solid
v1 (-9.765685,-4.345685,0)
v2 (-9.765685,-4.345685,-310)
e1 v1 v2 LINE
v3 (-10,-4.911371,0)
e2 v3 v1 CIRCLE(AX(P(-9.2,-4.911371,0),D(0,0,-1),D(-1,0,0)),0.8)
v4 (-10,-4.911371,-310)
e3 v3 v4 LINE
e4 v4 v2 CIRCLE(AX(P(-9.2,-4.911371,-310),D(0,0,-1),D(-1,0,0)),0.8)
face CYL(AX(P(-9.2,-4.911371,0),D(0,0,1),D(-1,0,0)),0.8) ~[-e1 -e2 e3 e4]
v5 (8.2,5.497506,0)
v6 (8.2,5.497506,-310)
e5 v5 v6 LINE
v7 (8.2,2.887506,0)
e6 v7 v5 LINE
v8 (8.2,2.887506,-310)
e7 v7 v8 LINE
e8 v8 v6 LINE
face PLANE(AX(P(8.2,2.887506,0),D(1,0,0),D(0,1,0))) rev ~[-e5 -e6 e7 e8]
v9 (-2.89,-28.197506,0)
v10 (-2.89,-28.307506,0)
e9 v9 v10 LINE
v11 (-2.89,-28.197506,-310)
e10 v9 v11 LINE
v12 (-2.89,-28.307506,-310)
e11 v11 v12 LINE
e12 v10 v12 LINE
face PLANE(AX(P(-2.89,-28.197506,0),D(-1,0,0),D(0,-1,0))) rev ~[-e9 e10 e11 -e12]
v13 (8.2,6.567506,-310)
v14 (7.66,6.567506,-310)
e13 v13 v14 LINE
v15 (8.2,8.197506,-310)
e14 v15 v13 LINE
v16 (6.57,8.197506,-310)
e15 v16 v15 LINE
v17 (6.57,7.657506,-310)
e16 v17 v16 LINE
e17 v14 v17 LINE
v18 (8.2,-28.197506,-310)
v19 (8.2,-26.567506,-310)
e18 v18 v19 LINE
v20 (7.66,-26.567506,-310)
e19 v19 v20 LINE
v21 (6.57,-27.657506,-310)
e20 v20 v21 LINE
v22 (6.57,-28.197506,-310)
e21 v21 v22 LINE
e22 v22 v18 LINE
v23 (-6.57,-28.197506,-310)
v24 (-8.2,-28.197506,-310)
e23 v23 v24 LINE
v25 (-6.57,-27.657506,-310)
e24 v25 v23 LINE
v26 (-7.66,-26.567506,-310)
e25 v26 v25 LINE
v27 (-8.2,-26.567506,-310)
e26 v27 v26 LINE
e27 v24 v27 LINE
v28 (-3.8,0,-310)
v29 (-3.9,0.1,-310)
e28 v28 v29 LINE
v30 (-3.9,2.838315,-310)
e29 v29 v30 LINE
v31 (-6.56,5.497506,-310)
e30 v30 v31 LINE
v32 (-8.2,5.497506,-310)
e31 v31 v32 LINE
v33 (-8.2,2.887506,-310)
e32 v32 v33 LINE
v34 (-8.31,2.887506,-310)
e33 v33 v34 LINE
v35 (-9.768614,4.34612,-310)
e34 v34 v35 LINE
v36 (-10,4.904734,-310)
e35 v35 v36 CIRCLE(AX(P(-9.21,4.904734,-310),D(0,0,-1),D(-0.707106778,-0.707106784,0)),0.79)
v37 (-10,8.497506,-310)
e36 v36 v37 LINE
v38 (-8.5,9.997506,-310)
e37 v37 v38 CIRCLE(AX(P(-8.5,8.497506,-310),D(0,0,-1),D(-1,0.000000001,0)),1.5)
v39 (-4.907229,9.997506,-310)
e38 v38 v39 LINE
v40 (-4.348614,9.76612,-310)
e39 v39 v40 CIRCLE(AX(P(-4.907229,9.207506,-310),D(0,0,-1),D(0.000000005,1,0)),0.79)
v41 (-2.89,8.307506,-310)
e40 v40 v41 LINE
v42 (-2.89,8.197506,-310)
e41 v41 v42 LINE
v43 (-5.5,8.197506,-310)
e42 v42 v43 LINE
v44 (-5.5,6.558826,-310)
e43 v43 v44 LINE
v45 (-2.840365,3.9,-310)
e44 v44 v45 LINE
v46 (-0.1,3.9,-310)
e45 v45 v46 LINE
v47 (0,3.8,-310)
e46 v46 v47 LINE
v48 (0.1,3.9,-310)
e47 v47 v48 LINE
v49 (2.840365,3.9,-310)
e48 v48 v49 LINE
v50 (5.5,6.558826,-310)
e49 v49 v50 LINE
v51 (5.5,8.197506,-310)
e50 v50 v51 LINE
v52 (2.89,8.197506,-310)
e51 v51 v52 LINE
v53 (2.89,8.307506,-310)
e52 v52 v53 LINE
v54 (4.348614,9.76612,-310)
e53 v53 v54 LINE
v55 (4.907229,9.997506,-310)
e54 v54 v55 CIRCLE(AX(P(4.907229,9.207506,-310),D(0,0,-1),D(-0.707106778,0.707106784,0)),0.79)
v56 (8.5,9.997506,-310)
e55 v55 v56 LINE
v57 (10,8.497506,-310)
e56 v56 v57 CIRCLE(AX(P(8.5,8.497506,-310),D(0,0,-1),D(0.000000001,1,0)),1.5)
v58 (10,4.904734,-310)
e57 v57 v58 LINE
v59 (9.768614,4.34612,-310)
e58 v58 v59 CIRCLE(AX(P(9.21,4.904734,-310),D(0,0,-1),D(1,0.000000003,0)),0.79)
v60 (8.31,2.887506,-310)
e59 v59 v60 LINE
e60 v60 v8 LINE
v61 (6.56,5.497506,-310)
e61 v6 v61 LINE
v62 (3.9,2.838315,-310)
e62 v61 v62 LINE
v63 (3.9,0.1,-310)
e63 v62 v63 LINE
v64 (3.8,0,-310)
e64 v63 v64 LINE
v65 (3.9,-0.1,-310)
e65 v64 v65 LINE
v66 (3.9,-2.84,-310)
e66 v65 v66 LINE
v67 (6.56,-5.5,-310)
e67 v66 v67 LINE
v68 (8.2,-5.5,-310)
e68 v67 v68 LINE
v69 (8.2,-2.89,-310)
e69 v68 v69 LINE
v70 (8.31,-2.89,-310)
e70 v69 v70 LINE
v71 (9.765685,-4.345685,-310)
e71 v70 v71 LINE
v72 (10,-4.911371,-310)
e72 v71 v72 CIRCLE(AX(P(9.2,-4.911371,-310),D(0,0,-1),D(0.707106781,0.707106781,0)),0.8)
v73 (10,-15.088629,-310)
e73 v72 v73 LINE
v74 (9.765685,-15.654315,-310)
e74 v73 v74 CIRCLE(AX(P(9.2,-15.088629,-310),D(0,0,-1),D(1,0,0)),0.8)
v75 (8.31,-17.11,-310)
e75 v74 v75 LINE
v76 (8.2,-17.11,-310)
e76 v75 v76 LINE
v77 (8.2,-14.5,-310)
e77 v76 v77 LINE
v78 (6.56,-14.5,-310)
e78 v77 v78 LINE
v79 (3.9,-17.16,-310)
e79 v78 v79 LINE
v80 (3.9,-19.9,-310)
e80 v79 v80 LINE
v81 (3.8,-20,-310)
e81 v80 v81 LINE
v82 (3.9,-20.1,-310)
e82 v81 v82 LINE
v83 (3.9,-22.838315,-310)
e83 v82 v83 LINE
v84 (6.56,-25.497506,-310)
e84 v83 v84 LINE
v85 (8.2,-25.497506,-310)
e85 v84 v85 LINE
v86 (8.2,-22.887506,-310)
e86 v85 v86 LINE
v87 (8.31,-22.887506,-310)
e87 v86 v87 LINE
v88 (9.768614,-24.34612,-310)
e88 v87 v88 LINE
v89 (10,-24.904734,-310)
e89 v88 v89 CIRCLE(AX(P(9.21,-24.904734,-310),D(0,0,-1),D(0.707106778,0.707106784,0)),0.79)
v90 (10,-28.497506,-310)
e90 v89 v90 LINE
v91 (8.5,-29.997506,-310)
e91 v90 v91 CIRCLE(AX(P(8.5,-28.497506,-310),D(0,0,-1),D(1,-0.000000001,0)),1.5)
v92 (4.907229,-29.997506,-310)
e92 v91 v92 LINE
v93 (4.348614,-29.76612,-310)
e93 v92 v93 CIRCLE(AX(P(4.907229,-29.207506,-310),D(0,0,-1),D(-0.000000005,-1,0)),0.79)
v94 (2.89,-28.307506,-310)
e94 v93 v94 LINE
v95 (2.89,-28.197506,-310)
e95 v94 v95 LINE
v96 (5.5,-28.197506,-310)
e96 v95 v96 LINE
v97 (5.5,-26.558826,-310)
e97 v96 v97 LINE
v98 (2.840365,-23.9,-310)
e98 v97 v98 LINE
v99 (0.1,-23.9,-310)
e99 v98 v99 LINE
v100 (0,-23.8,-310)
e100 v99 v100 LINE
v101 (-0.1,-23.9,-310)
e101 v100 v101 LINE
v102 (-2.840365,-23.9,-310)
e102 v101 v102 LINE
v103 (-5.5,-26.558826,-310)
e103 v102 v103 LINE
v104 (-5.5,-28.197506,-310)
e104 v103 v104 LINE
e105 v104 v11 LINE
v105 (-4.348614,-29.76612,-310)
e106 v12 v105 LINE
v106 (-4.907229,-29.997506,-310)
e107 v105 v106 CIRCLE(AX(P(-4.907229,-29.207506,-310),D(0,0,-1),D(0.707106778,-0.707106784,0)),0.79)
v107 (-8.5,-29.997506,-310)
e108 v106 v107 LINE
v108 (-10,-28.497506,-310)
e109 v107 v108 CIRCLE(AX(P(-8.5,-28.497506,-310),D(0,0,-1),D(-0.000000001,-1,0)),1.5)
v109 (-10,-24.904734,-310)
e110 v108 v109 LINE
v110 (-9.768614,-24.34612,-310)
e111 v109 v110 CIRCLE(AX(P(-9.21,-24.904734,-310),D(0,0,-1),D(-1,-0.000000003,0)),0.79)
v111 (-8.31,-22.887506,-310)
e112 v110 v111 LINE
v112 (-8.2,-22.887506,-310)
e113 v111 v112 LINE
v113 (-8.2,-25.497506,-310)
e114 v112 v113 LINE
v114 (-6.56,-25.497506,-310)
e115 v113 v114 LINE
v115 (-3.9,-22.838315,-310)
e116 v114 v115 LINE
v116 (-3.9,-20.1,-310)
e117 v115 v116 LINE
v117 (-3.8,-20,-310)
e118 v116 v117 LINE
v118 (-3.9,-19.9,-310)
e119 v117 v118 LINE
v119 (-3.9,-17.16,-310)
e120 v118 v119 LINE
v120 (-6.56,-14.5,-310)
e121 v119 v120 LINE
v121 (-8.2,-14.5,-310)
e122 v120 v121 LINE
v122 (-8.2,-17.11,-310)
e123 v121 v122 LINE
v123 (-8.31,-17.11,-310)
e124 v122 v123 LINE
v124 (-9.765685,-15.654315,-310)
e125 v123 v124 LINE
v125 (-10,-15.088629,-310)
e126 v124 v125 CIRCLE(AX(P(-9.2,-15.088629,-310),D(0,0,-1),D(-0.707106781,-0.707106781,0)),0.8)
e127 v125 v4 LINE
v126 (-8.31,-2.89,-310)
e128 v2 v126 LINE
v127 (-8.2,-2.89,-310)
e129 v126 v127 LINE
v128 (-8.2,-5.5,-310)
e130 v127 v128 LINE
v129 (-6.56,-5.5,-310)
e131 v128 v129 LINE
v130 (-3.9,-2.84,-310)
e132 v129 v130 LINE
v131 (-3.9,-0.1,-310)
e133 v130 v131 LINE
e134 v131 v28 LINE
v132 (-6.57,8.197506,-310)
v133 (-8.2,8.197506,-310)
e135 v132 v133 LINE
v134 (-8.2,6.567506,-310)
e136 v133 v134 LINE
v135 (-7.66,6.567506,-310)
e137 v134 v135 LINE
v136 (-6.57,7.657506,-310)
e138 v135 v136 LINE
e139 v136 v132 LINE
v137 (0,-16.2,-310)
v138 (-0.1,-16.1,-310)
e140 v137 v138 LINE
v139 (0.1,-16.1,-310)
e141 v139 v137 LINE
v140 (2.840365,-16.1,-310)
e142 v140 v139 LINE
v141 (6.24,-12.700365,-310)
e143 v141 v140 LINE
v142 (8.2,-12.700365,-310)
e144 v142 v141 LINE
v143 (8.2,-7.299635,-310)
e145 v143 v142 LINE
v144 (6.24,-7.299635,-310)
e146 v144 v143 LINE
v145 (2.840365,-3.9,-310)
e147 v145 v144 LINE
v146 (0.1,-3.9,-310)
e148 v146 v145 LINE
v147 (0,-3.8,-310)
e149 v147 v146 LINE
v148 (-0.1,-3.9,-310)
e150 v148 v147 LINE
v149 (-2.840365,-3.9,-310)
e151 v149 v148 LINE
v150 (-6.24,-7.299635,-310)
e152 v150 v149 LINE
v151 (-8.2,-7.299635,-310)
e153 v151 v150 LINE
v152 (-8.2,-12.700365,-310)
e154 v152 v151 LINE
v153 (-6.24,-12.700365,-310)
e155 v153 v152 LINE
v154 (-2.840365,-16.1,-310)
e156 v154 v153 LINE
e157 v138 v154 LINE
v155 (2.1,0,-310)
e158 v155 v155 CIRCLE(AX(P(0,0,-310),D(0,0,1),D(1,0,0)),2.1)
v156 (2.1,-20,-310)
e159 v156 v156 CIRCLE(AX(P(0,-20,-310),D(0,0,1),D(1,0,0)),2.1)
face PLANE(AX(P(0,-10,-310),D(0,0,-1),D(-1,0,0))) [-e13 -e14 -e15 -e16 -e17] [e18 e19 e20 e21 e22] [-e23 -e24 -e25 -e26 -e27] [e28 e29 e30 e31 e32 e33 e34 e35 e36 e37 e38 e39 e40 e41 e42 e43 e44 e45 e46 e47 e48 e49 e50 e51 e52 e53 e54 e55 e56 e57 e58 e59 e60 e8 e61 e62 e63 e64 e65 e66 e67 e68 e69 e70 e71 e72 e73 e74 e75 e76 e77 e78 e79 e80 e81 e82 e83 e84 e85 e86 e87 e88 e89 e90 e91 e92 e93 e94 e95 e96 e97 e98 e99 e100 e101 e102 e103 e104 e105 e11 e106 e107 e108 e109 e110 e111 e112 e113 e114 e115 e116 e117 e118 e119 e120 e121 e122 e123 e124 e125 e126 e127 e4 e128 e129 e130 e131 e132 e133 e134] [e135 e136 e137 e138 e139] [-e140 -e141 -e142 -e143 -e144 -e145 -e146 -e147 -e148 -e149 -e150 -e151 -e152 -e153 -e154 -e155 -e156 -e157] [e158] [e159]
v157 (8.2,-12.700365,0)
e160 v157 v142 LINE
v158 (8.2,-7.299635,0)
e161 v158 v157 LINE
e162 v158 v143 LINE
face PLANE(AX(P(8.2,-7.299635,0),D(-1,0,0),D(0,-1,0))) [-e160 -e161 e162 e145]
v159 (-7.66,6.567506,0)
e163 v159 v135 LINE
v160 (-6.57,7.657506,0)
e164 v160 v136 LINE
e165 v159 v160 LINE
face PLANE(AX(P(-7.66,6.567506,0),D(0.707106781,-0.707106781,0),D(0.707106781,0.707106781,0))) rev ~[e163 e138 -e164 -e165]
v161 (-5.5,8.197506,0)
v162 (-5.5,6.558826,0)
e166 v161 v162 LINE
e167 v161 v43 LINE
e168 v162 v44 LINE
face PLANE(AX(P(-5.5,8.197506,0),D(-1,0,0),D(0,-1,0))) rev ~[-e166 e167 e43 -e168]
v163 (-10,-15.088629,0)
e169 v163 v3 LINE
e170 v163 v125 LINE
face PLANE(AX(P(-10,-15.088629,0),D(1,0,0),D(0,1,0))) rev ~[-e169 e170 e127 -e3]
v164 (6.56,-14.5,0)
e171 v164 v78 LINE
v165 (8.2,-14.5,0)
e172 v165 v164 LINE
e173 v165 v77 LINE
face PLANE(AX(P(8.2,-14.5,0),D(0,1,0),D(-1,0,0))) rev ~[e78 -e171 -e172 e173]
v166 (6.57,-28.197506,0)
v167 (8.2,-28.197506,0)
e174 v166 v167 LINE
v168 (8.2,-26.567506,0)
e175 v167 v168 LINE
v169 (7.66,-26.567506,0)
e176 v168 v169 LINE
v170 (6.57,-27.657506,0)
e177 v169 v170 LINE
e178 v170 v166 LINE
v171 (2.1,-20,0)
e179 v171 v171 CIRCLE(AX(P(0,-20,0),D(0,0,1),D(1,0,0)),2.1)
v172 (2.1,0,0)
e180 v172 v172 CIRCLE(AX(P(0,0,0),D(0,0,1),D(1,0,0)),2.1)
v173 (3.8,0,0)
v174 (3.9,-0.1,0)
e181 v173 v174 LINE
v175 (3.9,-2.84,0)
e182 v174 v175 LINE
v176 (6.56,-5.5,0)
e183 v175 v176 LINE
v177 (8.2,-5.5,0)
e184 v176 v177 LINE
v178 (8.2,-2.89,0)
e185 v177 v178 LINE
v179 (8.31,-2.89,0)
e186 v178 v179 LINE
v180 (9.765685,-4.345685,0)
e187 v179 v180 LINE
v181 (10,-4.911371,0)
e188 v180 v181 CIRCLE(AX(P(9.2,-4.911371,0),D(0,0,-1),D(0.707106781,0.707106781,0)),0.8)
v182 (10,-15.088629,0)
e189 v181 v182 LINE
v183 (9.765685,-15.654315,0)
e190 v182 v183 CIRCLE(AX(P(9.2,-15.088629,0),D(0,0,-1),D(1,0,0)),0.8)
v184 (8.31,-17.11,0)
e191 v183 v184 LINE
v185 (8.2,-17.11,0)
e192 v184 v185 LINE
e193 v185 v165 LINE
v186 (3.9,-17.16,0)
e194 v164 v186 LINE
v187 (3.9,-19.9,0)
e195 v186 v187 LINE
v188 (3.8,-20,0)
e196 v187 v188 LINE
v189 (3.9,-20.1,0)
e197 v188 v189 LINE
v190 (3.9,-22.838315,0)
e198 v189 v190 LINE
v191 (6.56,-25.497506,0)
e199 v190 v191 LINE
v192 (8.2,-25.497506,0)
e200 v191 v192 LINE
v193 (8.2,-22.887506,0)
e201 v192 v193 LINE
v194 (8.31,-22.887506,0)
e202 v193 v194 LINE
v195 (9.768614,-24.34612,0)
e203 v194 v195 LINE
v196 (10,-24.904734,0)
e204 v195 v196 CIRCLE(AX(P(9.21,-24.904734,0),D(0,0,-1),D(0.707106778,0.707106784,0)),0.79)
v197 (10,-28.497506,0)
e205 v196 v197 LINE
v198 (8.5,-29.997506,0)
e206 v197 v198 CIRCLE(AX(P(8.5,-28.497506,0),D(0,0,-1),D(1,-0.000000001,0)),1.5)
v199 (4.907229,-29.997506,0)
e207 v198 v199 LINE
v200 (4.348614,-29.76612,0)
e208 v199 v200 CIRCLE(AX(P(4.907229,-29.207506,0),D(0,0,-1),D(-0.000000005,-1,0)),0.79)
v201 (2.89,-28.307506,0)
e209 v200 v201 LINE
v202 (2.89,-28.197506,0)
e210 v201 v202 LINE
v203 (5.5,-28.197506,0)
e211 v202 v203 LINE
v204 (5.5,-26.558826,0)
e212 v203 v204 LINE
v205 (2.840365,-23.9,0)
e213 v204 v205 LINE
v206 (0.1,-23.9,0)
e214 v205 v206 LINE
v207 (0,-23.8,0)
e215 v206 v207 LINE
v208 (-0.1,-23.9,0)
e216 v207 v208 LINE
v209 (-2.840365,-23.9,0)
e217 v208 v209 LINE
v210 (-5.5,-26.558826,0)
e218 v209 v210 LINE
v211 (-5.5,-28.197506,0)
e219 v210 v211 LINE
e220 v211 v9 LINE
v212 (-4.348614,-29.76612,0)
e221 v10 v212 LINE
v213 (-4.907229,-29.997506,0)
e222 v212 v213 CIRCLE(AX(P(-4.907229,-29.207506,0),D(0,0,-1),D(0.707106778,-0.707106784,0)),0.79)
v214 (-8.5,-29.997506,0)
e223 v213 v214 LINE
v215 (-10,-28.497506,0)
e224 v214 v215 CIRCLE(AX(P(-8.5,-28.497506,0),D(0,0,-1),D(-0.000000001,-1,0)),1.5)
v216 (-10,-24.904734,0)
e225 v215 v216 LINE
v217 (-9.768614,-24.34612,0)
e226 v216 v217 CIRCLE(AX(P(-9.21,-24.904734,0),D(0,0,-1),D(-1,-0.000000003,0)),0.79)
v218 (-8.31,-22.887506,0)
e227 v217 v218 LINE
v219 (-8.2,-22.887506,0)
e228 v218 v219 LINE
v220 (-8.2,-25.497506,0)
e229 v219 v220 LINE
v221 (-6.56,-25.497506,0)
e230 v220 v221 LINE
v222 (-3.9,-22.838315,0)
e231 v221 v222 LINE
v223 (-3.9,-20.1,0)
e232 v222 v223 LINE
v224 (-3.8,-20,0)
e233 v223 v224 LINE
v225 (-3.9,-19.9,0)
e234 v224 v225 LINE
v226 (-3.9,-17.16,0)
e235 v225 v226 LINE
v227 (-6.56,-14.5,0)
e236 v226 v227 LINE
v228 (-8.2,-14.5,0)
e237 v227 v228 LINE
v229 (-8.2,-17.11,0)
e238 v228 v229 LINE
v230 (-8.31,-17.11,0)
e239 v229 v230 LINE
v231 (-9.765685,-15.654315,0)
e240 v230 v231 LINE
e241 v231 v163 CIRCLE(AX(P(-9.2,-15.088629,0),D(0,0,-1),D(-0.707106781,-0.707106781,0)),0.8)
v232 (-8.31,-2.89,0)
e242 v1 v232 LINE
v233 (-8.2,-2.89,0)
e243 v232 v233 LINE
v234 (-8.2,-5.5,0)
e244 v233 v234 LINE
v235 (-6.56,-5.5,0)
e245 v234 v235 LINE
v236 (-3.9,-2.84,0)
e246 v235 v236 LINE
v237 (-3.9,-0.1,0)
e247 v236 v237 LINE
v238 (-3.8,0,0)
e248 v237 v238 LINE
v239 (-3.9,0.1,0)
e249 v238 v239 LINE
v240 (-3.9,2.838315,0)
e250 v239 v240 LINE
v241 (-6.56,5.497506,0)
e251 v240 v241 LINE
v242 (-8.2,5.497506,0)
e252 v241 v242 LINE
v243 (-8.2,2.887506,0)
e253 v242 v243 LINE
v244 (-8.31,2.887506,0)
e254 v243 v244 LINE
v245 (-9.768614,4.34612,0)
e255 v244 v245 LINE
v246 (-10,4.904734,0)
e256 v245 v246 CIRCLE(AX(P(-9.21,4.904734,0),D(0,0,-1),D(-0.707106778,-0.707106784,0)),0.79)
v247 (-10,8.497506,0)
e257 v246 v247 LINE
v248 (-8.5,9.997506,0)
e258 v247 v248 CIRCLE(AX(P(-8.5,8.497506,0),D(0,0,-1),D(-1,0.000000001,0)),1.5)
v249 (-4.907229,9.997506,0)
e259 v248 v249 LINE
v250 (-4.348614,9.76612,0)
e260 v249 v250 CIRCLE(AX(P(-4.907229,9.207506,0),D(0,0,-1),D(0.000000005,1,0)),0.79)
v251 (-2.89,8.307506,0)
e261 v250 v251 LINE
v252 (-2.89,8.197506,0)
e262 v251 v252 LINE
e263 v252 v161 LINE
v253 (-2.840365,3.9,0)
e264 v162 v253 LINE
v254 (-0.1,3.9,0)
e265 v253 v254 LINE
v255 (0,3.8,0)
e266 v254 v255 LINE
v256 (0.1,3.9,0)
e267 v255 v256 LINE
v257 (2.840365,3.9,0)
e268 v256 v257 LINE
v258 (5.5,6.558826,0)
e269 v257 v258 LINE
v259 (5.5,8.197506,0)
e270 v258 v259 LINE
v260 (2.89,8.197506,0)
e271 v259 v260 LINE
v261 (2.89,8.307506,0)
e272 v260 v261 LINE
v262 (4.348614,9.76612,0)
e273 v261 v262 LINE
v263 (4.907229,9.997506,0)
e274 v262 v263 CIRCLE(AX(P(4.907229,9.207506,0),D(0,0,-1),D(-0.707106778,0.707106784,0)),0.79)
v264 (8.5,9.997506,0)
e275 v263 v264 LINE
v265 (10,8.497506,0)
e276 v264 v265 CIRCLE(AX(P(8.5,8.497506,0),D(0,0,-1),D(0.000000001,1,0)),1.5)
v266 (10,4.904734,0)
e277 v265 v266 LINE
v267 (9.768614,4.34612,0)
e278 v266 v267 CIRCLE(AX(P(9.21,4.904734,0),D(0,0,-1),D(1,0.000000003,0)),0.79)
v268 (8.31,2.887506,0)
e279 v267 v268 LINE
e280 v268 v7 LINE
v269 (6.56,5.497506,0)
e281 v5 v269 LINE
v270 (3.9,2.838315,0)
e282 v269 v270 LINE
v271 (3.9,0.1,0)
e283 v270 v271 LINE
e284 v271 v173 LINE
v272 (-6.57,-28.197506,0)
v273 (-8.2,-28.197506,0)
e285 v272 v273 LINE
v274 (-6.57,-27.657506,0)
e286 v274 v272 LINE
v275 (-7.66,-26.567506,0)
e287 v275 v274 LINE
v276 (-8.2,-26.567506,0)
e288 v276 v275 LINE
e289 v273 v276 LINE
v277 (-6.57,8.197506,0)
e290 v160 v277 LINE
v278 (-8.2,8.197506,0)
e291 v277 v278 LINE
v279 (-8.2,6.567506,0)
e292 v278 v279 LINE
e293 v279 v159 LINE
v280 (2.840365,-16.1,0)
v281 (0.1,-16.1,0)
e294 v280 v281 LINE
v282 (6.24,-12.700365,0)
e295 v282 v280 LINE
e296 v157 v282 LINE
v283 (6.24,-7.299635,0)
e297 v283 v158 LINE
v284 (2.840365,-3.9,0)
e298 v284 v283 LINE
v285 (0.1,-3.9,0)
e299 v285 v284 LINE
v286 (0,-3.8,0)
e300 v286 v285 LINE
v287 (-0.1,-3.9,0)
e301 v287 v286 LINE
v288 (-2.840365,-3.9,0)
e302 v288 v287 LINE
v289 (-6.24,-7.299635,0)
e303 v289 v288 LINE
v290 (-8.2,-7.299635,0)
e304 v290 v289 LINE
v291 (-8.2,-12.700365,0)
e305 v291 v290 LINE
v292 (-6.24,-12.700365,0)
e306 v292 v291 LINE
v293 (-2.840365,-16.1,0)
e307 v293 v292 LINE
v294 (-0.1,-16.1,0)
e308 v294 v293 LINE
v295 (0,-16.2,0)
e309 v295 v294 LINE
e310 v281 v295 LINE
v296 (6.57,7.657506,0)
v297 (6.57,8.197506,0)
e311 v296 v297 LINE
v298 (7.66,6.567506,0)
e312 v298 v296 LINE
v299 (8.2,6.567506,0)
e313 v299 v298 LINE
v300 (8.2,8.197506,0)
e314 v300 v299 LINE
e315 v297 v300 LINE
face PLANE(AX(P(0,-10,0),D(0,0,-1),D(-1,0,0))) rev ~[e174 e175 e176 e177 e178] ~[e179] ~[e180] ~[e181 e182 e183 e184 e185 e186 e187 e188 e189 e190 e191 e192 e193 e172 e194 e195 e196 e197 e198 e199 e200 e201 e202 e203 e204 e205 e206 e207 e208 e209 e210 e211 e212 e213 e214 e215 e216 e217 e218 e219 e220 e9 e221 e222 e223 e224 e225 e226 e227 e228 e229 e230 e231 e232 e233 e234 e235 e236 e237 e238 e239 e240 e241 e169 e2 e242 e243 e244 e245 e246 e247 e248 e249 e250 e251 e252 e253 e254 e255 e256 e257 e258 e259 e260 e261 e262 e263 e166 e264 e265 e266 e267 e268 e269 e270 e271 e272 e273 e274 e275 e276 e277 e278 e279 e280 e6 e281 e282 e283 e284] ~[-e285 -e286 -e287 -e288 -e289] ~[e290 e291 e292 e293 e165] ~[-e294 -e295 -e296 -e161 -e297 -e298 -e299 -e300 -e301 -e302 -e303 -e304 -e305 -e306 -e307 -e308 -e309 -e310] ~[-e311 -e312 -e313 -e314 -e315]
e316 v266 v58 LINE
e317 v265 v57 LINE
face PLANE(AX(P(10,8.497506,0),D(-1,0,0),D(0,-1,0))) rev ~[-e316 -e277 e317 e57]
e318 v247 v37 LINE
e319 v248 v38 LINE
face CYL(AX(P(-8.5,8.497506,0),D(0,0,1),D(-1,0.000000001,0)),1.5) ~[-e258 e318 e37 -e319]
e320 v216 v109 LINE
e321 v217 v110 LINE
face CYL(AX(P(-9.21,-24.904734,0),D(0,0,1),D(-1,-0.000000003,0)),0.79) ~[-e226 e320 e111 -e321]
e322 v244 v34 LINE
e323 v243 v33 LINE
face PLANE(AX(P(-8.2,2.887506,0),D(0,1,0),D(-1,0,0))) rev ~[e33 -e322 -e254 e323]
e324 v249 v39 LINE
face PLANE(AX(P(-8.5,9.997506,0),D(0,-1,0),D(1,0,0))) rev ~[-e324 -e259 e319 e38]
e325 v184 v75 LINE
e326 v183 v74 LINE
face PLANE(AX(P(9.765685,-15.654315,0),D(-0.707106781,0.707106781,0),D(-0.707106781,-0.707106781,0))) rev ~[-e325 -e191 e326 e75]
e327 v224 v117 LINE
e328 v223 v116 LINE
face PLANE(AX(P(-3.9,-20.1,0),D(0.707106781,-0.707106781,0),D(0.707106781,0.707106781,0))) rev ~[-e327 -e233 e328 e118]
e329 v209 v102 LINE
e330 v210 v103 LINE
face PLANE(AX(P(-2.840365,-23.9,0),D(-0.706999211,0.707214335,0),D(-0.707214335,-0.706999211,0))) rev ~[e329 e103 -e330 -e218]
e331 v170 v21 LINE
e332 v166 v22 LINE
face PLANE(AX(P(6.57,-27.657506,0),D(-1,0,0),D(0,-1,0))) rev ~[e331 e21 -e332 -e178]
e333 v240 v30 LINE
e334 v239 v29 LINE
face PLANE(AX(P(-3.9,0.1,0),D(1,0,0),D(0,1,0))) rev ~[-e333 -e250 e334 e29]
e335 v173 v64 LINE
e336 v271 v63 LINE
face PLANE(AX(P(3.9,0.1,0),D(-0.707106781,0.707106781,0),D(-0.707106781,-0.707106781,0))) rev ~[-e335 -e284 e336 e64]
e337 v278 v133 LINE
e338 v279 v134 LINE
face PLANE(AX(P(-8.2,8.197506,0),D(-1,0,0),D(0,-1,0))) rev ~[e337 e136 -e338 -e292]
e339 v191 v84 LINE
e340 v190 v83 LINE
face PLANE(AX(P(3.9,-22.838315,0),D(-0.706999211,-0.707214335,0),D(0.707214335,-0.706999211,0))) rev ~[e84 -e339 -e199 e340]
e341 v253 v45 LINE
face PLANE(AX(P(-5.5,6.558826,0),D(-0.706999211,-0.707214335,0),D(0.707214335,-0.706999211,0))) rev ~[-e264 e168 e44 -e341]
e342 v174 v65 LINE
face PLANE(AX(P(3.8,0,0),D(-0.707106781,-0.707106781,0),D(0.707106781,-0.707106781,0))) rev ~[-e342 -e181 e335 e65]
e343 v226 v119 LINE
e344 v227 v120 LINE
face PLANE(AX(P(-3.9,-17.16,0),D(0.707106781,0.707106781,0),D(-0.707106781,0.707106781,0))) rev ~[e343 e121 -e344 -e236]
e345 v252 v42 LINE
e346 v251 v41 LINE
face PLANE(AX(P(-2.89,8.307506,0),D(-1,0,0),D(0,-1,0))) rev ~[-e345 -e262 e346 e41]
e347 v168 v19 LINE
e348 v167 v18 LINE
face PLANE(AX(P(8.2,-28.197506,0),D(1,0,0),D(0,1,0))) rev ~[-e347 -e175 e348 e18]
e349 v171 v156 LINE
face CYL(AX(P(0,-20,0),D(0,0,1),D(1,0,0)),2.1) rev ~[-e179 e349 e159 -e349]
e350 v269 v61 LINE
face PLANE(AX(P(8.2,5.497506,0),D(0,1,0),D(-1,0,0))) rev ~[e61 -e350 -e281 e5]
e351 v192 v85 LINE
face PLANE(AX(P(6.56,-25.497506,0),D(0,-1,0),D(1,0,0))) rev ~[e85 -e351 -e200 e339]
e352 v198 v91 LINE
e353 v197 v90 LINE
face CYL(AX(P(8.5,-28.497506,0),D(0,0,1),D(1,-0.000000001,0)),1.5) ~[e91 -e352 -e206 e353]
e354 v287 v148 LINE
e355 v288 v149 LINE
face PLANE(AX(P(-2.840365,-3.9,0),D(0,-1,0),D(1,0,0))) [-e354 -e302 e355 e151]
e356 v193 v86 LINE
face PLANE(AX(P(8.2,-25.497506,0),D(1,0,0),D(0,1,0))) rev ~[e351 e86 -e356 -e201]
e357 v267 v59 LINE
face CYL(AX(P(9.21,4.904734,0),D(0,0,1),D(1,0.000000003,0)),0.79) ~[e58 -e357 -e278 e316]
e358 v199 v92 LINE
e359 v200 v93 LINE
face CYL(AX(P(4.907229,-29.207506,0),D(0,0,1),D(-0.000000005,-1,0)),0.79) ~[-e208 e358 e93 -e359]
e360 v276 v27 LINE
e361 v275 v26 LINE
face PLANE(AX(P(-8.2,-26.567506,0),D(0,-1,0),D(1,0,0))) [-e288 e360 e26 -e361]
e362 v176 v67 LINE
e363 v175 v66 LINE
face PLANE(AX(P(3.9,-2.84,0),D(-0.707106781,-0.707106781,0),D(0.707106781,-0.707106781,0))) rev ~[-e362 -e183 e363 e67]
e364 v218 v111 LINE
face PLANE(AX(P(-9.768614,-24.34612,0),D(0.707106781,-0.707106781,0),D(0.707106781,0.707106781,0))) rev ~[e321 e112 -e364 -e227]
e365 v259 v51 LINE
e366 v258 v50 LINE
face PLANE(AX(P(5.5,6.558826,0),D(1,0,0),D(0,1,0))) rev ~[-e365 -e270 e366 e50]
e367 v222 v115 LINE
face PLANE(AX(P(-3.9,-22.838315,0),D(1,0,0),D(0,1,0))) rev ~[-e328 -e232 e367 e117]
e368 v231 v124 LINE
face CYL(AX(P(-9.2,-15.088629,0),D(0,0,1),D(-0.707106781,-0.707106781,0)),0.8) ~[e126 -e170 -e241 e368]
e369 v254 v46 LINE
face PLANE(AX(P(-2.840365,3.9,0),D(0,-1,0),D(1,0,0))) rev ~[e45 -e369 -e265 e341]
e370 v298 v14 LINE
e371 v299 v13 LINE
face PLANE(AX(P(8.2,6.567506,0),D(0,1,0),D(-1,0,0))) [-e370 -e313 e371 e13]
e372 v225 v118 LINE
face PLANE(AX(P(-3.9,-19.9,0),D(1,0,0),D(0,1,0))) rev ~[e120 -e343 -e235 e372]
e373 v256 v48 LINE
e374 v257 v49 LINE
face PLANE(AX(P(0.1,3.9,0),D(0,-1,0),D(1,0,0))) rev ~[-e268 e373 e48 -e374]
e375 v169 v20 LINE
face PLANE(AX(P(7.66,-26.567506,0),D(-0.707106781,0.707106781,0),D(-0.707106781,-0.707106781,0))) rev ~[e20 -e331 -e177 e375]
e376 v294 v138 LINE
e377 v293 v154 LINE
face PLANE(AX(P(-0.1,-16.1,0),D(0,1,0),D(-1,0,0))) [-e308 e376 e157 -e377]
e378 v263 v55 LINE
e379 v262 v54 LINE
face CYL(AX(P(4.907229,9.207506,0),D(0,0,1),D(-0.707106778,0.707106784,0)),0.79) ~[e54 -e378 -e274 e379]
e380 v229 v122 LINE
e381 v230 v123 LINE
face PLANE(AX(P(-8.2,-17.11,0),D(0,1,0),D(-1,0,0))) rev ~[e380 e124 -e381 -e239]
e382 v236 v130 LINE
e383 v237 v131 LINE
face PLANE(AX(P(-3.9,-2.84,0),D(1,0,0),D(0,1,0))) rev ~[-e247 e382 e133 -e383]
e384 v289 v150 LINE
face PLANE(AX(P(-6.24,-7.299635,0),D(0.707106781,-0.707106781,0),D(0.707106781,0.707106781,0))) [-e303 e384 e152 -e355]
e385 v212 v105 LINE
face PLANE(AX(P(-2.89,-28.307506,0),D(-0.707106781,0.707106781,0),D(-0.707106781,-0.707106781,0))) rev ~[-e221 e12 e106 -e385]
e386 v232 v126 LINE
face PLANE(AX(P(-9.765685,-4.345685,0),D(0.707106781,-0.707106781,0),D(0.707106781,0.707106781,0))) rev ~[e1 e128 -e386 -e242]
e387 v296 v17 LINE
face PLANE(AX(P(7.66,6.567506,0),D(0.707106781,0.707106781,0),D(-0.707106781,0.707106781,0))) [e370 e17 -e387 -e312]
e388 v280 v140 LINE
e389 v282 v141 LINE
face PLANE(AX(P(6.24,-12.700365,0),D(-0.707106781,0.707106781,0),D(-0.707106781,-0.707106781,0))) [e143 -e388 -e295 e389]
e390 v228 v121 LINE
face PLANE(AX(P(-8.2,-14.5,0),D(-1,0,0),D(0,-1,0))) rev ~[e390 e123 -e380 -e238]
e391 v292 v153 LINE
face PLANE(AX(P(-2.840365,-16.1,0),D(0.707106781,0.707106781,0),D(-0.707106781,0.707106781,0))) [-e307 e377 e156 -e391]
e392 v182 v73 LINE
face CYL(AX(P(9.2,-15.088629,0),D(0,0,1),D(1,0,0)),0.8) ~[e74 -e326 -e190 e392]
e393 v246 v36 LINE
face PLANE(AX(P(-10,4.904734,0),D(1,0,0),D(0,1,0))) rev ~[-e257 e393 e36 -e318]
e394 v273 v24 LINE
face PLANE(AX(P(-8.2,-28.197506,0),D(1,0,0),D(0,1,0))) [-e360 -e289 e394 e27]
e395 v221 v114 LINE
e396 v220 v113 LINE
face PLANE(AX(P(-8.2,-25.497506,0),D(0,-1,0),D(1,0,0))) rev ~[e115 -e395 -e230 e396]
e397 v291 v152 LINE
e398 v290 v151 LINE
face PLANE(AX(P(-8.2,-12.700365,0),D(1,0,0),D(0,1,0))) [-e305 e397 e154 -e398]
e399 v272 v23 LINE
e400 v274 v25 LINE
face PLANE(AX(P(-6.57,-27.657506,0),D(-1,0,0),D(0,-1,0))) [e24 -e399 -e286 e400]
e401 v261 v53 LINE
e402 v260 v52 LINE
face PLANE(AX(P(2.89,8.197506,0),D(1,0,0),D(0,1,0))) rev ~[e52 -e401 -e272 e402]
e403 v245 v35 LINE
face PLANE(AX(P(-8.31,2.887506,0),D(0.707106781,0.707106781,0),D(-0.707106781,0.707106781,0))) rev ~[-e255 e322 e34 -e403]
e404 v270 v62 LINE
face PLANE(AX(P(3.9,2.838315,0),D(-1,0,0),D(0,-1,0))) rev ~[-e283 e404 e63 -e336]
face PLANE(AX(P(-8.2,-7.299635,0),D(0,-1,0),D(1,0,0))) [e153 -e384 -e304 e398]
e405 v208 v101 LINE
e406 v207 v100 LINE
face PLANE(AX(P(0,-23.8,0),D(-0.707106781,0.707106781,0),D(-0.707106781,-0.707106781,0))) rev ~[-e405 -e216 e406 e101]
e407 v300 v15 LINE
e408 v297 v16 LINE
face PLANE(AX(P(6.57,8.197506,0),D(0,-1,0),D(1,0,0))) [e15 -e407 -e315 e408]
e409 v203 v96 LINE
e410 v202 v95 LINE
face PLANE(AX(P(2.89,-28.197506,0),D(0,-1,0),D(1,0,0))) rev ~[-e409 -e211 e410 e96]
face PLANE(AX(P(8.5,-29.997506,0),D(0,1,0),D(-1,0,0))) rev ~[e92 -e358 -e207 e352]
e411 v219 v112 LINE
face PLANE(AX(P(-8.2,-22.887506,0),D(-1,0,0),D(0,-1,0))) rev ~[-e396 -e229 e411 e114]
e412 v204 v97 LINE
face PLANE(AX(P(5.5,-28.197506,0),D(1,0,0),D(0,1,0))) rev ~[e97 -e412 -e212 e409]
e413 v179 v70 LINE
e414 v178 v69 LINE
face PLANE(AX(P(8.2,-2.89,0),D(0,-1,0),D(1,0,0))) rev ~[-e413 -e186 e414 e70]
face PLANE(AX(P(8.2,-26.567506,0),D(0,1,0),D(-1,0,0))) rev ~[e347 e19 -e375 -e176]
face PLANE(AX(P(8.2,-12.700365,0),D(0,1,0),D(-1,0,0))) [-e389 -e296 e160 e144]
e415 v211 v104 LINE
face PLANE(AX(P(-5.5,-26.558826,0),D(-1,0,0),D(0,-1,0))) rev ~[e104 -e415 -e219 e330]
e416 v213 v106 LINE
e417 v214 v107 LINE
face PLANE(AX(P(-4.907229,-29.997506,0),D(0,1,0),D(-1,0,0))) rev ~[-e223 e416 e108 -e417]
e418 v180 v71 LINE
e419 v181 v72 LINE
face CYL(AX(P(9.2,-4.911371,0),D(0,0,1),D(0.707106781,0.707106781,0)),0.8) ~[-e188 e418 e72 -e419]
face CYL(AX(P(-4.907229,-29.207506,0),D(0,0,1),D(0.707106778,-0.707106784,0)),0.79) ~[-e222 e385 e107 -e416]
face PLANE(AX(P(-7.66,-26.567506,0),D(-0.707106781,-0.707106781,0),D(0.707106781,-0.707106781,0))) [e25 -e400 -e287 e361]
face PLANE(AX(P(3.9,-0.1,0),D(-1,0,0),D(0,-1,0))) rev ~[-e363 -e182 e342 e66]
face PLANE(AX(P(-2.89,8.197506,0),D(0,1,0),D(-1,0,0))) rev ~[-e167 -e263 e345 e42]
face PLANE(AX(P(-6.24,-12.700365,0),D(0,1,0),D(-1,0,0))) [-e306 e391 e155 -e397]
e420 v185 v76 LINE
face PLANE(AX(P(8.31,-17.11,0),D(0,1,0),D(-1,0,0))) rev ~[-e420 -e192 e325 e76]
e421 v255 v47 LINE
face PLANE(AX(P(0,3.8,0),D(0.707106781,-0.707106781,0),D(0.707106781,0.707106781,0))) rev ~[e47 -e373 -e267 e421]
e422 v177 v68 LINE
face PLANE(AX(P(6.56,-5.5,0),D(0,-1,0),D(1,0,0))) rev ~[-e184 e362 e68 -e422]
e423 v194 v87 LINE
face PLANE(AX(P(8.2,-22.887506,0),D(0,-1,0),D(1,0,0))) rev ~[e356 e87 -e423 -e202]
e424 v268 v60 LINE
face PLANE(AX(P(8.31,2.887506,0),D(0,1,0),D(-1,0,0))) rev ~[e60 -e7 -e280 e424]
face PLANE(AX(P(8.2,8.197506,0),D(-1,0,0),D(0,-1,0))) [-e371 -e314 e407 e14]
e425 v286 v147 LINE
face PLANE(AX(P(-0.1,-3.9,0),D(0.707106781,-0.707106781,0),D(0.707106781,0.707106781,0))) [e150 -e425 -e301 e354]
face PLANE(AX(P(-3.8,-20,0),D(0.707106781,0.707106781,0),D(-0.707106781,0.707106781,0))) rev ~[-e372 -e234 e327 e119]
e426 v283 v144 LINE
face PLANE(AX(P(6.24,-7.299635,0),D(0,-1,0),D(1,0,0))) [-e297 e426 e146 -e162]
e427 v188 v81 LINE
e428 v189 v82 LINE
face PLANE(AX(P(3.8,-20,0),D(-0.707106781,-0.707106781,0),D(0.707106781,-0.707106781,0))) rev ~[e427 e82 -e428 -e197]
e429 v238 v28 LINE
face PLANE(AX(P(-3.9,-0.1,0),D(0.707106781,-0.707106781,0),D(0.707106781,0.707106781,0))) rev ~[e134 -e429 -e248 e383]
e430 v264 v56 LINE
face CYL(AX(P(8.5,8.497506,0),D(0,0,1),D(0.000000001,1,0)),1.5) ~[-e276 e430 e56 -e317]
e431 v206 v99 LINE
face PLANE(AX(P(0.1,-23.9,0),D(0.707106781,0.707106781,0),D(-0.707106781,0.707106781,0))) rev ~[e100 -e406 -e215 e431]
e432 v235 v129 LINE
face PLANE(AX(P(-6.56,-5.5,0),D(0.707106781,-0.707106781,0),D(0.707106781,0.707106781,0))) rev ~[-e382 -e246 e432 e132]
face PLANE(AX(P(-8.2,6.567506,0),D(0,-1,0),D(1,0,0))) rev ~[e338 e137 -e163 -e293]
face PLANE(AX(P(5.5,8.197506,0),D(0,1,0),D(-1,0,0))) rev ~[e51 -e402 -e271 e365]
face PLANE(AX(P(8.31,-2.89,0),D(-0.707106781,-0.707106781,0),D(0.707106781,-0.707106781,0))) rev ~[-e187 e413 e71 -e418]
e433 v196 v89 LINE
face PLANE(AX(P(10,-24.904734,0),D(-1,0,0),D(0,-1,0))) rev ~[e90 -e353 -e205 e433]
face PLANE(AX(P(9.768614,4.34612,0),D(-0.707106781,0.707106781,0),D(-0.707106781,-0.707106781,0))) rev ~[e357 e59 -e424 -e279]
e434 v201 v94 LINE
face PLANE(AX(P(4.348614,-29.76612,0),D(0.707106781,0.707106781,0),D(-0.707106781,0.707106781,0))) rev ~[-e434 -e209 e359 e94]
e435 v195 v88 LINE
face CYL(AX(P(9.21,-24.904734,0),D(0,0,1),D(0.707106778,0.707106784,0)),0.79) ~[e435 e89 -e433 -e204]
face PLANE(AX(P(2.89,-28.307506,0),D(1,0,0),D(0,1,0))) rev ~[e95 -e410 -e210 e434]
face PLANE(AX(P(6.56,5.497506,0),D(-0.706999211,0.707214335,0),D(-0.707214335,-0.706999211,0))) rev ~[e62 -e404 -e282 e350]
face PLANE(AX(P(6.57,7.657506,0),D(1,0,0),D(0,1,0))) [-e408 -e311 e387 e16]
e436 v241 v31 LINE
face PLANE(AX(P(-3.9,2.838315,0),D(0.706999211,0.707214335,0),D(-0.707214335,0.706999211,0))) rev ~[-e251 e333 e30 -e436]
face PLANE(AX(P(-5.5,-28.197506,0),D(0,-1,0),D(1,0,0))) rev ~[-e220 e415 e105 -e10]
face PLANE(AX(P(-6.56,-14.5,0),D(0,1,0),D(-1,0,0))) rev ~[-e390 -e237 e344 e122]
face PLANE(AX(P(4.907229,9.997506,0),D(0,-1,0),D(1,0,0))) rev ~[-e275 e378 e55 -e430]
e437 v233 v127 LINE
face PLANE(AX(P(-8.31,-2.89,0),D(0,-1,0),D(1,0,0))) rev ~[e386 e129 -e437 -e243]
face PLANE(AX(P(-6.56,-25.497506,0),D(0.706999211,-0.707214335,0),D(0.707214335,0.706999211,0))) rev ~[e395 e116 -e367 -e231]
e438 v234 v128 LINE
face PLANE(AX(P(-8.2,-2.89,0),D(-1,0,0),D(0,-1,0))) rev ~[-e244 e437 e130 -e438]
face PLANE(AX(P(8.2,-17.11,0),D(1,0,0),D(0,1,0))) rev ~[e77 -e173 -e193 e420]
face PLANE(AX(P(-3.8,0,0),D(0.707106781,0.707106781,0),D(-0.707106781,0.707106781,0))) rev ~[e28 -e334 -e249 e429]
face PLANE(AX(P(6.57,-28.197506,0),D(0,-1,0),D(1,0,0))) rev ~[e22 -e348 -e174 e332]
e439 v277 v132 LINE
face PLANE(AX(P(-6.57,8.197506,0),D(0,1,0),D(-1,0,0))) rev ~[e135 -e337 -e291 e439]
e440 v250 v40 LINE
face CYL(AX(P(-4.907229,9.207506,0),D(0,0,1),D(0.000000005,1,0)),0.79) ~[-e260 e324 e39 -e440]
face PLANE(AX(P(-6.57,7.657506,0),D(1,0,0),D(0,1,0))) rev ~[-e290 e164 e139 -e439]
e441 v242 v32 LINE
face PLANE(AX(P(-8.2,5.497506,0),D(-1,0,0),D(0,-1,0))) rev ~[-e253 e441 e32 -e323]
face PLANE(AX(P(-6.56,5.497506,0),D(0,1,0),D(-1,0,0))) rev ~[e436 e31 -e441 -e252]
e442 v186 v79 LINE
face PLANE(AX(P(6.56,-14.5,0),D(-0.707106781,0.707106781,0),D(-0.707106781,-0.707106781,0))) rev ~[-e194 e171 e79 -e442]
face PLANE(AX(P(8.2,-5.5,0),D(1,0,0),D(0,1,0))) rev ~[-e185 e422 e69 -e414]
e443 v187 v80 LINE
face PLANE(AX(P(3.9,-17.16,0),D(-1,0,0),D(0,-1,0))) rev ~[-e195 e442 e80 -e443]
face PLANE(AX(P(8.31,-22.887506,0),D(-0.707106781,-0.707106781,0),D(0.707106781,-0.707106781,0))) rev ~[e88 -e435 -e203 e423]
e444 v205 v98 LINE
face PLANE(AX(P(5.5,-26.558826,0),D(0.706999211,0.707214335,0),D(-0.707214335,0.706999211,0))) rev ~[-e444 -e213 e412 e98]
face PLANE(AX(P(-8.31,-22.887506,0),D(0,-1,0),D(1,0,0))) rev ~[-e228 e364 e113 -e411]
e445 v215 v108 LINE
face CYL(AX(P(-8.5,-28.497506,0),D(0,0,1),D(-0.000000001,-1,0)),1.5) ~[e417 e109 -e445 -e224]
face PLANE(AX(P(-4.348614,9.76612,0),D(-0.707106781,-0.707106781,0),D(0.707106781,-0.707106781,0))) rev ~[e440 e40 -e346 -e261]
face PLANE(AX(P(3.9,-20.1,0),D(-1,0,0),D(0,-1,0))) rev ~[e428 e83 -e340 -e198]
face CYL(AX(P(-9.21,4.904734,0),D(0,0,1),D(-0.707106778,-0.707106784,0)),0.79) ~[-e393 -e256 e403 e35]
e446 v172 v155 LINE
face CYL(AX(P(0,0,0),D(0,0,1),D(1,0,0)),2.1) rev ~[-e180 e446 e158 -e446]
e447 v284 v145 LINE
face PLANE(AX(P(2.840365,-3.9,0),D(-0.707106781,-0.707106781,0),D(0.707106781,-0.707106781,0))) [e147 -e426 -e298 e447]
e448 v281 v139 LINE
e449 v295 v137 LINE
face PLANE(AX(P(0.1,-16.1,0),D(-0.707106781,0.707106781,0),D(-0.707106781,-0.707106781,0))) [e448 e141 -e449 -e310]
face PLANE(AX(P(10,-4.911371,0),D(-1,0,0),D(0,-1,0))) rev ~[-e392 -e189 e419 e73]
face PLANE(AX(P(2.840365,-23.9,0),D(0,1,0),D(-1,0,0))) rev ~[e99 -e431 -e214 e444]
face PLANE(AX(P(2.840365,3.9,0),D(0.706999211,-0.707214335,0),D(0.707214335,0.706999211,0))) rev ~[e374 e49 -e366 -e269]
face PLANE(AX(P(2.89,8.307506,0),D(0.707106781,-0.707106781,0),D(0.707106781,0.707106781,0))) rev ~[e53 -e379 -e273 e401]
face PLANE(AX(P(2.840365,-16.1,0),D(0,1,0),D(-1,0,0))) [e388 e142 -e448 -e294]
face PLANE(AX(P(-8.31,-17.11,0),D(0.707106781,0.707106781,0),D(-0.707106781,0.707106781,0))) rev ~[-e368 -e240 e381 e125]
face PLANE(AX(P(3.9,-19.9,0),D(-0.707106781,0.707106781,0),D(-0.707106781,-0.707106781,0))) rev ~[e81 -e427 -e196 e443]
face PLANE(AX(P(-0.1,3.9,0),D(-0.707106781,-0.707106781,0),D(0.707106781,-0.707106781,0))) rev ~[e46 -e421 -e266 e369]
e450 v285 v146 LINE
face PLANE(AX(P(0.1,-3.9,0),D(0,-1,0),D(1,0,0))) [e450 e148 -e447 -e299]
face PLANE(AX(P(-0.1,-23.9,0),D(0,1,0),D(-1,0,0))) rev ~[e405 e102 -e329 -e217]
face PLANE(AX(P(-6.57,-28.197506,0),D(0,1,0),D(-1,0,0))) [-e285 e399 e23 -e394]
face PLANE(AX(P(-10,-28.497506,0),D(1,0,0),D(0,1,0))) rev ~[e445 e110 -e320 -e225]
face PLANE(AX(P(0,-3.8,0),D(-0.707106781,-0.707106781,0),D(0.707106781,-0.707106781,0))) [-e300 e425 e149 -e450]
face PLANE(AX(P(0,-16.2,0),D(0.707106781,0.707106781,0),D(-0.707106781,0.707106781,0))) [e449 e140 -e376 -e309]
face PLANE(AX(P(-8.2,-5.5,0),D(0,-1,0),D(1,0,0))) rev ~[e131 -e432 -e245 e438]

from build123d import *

# Parameters (mm, degrees)
SKETCH2_R           = 2.1
BOSS_EXTRUDE1_DEPTH = 310


with BuildPart() as part:
    # Sketch2 → Boss-Extrude1 (new body)
    with BuildSketch(Plane.XY):
        with BuildLine():
            Line((-0.1, 3.9), (0, 3.8))
            Line((0, 3.8), (0.1, 3.9))
            Line((0.1, 3.9), (2.840365134, 3.9))
            Line((2.840365134, 3.9), (5.5, 6.558825842))
            Line((5.5, 6.558825842), (5.5, 8.197505675))
            Line((5.5, 8.197505675), (2.89, 8.197505675))
            Line((2.89, 8.197505675), (2.89, 8.307505675))
            Line((2.89, 8.307505675), (4.348614357, 9.766120032))
            ThreePointArc((4.348614357, 9.766120032), (4.604908803, 9.937370505), (4.907228714, 9.997505675))
            Line((4.907228714, 9.997505675), (8.5, 9.997505675))
            ThreePointArc((8.5, 9.997505675), (9.560660172, 9.558165846), (10, 8.497505675))
            Line((10, 8.497505675), (10, 4.904734389))
            ThreePointArc((10, 4.904734389), (9.939864831, 4.602414477), (9.768614357, 4.346120032))
            Line((9.768614357, 4.346120032), (8.31, 2.887505675))
            Line((8.31, 2.887505675), (8.2, 2.887505675))
            Line((8.2, 2.887505675), (8.2, 5.497505675))
            Line((8.2, 5.497505675), (6.56, 5.497505675))
            Line((6.56, 5.497505675), (3.9, 2.83831481))
            Line((3.9, 2.83831481), (3.9, 0.1))
            Line((3.9, 0.1), (3.8, 0))
            Line((3.8, 0), (3.9, -0.1))
            Line((3.9, -0.1), (3.9, -2.84))
            Line((3.9, -2.84), (6.56, -5.5))
            Line((6.56, -5.5), (8.2, -5.5))
            Line((8.2, -5.5), (8.2, -2.89))
            Line((8.2, -2.89), (8.31, -2.89))
            Line((8.31, -2.89), (9.765685425, -4.345685425))
            ThreePointArc((9.765685425, -4.345685425), (9.939103626, -4.605224104), (10, -4.91137085))
            Line((10, -4.91137085), (10, -15.08862915))
            ThreePointArc((10, -15.08862915), (9.939103626, -15.394775896), (9.765685425, -15.654314575))
            Line((9.765685425, -15.654314575), (8.31, -17.11))
            Line((8.31, -17.11), (8.2, -17.11))
            Line((8.2, -17.11), (8.2, -14.5))
            Line((8.2, -14.5), (6.56, -14.5))
            Line((6.56, -14.5), (3.9, -17.16))
            Line((3.9, -17.16), (3.9, -19.9))
            Line((3.9, -19.9), (3.8, -20))
            Line((3.8, -20), (3.9, -20.1))
            Line((3.9, -20.1), (3.9, -22.83831481))
            Line((3.9, -22.83831481), (6.56, -25.497505675))
            Line((6.56, -25.497505675), (8.2, -25.497505675))
            Line((8.2, -25.497505675), (8.2, -22.887505675))
            Line((8.2, -22.887505675), (8.31, -22.887505675))
            Line((8.31, -22.887505675), (9.768614357, -24.346120032))
            ThreePointArc((9.768614357, -24.346120032), (9.939864831, -24.602414477), (10, -24.904734389))
            Line((10, -24.904734389), (10, -28.497505675))
            ThreePointArc((10, -28.497505675), (9.560660172, -29.558165846), (8.5, -29.997505675))
            Line((8.5, -29.997505675), (4.907228714, -29.997505675))
            ThreePointArc((4.907228714, -29.997505675), (4.604908803, -29.937370505), (4.348614357, -29.766120032))
            Line((4.348614357, -29.766120032), (2.89, -28.307505675))
            Line((2.89, -28.307505675), (2.89, -28.197505675))
            Line((2.89, -28.197505675), (5.5, -28.197505675))
            Line((5.5, -28.197505675), (5.5, -26.558825842))
            Line((5.5, -26.558825842), (2.840365134, -23.9))
            Line((2.840365134, -23.9), (0.1, -23.9))
            Line((0.1, -23.9), (0, -23.8))
            Line((0, -23.8), (-0.1, -23.9))
            Line((-0.1, -23.9), (-2.840365134, -23.9))
            Line((-2.840365134, -23.9), (-5.5, -26.558825842))
            Line((-5.5, -26.558825842), (-5.5, -28.197505675))
            Line((-5.5, -28.197505675), (-2.89, -28.197505675))
            Line((-2.89, -28.197505675), (-2.89, -28.307505675))
            Line((-2.89, -28.307505675), (-4.348614357, -29.766120032))
            ThreePointArc((-4.348614357, -29.766120032), (-4.604908803, -29.937370505), (-4.907228714, -29.997505675))
            Line((-4.907228714, -29.997505675), (-8.5, -29.997505675))
            ThreePointArc((-8.5, -29.997505675), (-9.560660172, -29.558165846), (-10, -28.497505675))
            Line((-10, -28.497505675), (-10, -24.904734389))
            ThreePointArc((-10, -24.904734389), (-9.939864831, -24.602414477), (-9.768614357, -24.346120032))
            Line((-9.768614357, -24.346120032), (-8.31, -22.887505675))
            Line((-8.31, -22.887505675), (-8.2, -22.887505675))
            Line((-8.2, -22.887505675), (-8.2, -25.497505675))
            Line((-8.2, -25.497505675), (-6.56, -25.497505675))
            Line((-6.56, -25.497505675), (-3.9, -22.83831481))
            Line((-3.9, -22.83831481), (-3.9, -20.1))
            Line((-3.9, -20.1), (-3.8, -20))
            Line((-3.8, -20), (-3.9, -19.9))
            Line((-3.9, -19.9), (-3.9, -17.16))
            Line((-3.9, -17.16), (-6.56, -14.5))
            Line((-6.56, -14.5), (-8.2, -14.5))
            Line((-8.2, -14.5), (-8.2, -17.11))
            Line((-8.2, -17.11), (-8.31, -17.11))
            Line((-8.31, -17.11), (-9.765685425, -15.654314575))
            ThreePointArc((-9.765685425, -15.654314575), (-9.939103626, -15.394775896), (-10, -15.08862915))
            Line((-10, -15.08862915), (-10, -4.91137085))
            ThreePointArc((-10, -4.91137085), (-9.939103626, -4.605224104), (-9.765685425, -4.345685425))
            Line((-9.765685425, -4.345685425), (-8.31, -2.89))
            Line((-8.31, -2.89), (-8.2, -2.89))
            Line((-8.2, -2.89), (-8.2, -5.5))
            Line((-8.2, -5.5), (-6.56, -5.5))
            Line((-6.56, -5.5), (-3.9, -2.84))
            Line((-3.9, -2.84), (-3.9, -0.1))
            Line((-3.9, -0.1), (-3.8, 0))
            Line((-3.8, 0), (-3.9, 0.1))
            Line((-3.9, 0.1), (-3.9, 2.83831481))
            Line((-3.9, 2.83831481), (-6.56, 5.497505675))
            Line((-6.56, 5.497505675), (-8.2, 5.497505675))
            Line((-8.2, 5.497505675), (-8.2, 2.887505675))
            Line((-8.2, 2.887505675), (-8.31, 2.887505675))
            Line((-8.31, 2.887505675), (-9.768614357, 4.346120032))
            ThreePointArc((-9.768614357, 4.346120032), (-9.939864831, 4.602414477), (-10, 4.904734389))
            Line((-10, 4.904734389), (-10, 8.497505675))
            ThreePointArc((-10, 8.497505675), (-9.560660172, 9.558165846), (-8.5, 9.997505675))
            Line((-8.5, 9.997505675), (-4.907228714, 9.997505675))
            ThreePointArc((-4.907228714, 9.997505675), (-4.604908803, 9.937370505), (-4.348614357, 9.766120032))
            Line((-4.348614357, 9.766120032), (-2.89, 8.307505675))
            Line((-2.89, 8.307505675), (-2.89, 8.197505675))
            Line((-2.89, 8.197505675), (-5.5, 8.197505675))
            Line((-5.5, 8.197505675), (-5.5, 6.558825842))
            Line((-5.5, 6.558825842), (-2.840365134, 3.9))
            Line((-2.840365134, 3.9), (-0.1, 3.9))
        make_face()
        Circle(SKETCH2_R, mode=Mode.SUBTRACT)
        with Locations((0, -20)):
            Circle(SKETCH2_R, mode=Mode.SUBTRACT)
        Polygon((-7.66, 6.567505675), (-6.57, 7.657505675), (-6.57, 8.197505675), (-8.2, 8.197505675), (-8.2, 6.567505675), align=None, mode=Mode.SUBTRACT)
        Polygon((-0.1, -3.9), (0, -3.8), (0.1, -3.9), (2.840365134, -3.9), (6.24, -7.299634866), (8.2, -7.299634866), (8.2, -12.700365134), (6.24, -12.700365134), (2.840365134, -16.1), (0.1, -16.1), (0, -16.2), (-0.1, -16.1), (-2.840365134, -16.1), (-6.24, -12.700365134), (-8.2, -12.700365134), (-8.2, -7.299634866), (-6.24, -7.299634866), (-2.840365134, -3.9), align=None, mode=Mode.SUBTRACT)
        Polygon((8.2, 6.567505675), (7.66, 6.567505675), (6.57, 7.657505675), (6.57, 8.197505675), (8.2, 8.197505675), align=None, mode=Mode.SUBTRACT)
        Polygon((7.66, -26.567505675), (6.57, -27.657505675), (6.57, -28.197505675), (8.2, -28.197505675), (8.2, -26.567505675), align=None, mode=Mode.SUBTRACT)
        Polygon((-8.2, -26.567505675), (-7.66, -26.567505675), (-6.57, -27.657505675), (-6.57, -28.197505675), (-8.2, -28.197505675), align=None, mode=Mode.SUBTRACT)
    extrude(amount=-BOSS_EXTRUDE1_DEPTH)


solid = part.part
